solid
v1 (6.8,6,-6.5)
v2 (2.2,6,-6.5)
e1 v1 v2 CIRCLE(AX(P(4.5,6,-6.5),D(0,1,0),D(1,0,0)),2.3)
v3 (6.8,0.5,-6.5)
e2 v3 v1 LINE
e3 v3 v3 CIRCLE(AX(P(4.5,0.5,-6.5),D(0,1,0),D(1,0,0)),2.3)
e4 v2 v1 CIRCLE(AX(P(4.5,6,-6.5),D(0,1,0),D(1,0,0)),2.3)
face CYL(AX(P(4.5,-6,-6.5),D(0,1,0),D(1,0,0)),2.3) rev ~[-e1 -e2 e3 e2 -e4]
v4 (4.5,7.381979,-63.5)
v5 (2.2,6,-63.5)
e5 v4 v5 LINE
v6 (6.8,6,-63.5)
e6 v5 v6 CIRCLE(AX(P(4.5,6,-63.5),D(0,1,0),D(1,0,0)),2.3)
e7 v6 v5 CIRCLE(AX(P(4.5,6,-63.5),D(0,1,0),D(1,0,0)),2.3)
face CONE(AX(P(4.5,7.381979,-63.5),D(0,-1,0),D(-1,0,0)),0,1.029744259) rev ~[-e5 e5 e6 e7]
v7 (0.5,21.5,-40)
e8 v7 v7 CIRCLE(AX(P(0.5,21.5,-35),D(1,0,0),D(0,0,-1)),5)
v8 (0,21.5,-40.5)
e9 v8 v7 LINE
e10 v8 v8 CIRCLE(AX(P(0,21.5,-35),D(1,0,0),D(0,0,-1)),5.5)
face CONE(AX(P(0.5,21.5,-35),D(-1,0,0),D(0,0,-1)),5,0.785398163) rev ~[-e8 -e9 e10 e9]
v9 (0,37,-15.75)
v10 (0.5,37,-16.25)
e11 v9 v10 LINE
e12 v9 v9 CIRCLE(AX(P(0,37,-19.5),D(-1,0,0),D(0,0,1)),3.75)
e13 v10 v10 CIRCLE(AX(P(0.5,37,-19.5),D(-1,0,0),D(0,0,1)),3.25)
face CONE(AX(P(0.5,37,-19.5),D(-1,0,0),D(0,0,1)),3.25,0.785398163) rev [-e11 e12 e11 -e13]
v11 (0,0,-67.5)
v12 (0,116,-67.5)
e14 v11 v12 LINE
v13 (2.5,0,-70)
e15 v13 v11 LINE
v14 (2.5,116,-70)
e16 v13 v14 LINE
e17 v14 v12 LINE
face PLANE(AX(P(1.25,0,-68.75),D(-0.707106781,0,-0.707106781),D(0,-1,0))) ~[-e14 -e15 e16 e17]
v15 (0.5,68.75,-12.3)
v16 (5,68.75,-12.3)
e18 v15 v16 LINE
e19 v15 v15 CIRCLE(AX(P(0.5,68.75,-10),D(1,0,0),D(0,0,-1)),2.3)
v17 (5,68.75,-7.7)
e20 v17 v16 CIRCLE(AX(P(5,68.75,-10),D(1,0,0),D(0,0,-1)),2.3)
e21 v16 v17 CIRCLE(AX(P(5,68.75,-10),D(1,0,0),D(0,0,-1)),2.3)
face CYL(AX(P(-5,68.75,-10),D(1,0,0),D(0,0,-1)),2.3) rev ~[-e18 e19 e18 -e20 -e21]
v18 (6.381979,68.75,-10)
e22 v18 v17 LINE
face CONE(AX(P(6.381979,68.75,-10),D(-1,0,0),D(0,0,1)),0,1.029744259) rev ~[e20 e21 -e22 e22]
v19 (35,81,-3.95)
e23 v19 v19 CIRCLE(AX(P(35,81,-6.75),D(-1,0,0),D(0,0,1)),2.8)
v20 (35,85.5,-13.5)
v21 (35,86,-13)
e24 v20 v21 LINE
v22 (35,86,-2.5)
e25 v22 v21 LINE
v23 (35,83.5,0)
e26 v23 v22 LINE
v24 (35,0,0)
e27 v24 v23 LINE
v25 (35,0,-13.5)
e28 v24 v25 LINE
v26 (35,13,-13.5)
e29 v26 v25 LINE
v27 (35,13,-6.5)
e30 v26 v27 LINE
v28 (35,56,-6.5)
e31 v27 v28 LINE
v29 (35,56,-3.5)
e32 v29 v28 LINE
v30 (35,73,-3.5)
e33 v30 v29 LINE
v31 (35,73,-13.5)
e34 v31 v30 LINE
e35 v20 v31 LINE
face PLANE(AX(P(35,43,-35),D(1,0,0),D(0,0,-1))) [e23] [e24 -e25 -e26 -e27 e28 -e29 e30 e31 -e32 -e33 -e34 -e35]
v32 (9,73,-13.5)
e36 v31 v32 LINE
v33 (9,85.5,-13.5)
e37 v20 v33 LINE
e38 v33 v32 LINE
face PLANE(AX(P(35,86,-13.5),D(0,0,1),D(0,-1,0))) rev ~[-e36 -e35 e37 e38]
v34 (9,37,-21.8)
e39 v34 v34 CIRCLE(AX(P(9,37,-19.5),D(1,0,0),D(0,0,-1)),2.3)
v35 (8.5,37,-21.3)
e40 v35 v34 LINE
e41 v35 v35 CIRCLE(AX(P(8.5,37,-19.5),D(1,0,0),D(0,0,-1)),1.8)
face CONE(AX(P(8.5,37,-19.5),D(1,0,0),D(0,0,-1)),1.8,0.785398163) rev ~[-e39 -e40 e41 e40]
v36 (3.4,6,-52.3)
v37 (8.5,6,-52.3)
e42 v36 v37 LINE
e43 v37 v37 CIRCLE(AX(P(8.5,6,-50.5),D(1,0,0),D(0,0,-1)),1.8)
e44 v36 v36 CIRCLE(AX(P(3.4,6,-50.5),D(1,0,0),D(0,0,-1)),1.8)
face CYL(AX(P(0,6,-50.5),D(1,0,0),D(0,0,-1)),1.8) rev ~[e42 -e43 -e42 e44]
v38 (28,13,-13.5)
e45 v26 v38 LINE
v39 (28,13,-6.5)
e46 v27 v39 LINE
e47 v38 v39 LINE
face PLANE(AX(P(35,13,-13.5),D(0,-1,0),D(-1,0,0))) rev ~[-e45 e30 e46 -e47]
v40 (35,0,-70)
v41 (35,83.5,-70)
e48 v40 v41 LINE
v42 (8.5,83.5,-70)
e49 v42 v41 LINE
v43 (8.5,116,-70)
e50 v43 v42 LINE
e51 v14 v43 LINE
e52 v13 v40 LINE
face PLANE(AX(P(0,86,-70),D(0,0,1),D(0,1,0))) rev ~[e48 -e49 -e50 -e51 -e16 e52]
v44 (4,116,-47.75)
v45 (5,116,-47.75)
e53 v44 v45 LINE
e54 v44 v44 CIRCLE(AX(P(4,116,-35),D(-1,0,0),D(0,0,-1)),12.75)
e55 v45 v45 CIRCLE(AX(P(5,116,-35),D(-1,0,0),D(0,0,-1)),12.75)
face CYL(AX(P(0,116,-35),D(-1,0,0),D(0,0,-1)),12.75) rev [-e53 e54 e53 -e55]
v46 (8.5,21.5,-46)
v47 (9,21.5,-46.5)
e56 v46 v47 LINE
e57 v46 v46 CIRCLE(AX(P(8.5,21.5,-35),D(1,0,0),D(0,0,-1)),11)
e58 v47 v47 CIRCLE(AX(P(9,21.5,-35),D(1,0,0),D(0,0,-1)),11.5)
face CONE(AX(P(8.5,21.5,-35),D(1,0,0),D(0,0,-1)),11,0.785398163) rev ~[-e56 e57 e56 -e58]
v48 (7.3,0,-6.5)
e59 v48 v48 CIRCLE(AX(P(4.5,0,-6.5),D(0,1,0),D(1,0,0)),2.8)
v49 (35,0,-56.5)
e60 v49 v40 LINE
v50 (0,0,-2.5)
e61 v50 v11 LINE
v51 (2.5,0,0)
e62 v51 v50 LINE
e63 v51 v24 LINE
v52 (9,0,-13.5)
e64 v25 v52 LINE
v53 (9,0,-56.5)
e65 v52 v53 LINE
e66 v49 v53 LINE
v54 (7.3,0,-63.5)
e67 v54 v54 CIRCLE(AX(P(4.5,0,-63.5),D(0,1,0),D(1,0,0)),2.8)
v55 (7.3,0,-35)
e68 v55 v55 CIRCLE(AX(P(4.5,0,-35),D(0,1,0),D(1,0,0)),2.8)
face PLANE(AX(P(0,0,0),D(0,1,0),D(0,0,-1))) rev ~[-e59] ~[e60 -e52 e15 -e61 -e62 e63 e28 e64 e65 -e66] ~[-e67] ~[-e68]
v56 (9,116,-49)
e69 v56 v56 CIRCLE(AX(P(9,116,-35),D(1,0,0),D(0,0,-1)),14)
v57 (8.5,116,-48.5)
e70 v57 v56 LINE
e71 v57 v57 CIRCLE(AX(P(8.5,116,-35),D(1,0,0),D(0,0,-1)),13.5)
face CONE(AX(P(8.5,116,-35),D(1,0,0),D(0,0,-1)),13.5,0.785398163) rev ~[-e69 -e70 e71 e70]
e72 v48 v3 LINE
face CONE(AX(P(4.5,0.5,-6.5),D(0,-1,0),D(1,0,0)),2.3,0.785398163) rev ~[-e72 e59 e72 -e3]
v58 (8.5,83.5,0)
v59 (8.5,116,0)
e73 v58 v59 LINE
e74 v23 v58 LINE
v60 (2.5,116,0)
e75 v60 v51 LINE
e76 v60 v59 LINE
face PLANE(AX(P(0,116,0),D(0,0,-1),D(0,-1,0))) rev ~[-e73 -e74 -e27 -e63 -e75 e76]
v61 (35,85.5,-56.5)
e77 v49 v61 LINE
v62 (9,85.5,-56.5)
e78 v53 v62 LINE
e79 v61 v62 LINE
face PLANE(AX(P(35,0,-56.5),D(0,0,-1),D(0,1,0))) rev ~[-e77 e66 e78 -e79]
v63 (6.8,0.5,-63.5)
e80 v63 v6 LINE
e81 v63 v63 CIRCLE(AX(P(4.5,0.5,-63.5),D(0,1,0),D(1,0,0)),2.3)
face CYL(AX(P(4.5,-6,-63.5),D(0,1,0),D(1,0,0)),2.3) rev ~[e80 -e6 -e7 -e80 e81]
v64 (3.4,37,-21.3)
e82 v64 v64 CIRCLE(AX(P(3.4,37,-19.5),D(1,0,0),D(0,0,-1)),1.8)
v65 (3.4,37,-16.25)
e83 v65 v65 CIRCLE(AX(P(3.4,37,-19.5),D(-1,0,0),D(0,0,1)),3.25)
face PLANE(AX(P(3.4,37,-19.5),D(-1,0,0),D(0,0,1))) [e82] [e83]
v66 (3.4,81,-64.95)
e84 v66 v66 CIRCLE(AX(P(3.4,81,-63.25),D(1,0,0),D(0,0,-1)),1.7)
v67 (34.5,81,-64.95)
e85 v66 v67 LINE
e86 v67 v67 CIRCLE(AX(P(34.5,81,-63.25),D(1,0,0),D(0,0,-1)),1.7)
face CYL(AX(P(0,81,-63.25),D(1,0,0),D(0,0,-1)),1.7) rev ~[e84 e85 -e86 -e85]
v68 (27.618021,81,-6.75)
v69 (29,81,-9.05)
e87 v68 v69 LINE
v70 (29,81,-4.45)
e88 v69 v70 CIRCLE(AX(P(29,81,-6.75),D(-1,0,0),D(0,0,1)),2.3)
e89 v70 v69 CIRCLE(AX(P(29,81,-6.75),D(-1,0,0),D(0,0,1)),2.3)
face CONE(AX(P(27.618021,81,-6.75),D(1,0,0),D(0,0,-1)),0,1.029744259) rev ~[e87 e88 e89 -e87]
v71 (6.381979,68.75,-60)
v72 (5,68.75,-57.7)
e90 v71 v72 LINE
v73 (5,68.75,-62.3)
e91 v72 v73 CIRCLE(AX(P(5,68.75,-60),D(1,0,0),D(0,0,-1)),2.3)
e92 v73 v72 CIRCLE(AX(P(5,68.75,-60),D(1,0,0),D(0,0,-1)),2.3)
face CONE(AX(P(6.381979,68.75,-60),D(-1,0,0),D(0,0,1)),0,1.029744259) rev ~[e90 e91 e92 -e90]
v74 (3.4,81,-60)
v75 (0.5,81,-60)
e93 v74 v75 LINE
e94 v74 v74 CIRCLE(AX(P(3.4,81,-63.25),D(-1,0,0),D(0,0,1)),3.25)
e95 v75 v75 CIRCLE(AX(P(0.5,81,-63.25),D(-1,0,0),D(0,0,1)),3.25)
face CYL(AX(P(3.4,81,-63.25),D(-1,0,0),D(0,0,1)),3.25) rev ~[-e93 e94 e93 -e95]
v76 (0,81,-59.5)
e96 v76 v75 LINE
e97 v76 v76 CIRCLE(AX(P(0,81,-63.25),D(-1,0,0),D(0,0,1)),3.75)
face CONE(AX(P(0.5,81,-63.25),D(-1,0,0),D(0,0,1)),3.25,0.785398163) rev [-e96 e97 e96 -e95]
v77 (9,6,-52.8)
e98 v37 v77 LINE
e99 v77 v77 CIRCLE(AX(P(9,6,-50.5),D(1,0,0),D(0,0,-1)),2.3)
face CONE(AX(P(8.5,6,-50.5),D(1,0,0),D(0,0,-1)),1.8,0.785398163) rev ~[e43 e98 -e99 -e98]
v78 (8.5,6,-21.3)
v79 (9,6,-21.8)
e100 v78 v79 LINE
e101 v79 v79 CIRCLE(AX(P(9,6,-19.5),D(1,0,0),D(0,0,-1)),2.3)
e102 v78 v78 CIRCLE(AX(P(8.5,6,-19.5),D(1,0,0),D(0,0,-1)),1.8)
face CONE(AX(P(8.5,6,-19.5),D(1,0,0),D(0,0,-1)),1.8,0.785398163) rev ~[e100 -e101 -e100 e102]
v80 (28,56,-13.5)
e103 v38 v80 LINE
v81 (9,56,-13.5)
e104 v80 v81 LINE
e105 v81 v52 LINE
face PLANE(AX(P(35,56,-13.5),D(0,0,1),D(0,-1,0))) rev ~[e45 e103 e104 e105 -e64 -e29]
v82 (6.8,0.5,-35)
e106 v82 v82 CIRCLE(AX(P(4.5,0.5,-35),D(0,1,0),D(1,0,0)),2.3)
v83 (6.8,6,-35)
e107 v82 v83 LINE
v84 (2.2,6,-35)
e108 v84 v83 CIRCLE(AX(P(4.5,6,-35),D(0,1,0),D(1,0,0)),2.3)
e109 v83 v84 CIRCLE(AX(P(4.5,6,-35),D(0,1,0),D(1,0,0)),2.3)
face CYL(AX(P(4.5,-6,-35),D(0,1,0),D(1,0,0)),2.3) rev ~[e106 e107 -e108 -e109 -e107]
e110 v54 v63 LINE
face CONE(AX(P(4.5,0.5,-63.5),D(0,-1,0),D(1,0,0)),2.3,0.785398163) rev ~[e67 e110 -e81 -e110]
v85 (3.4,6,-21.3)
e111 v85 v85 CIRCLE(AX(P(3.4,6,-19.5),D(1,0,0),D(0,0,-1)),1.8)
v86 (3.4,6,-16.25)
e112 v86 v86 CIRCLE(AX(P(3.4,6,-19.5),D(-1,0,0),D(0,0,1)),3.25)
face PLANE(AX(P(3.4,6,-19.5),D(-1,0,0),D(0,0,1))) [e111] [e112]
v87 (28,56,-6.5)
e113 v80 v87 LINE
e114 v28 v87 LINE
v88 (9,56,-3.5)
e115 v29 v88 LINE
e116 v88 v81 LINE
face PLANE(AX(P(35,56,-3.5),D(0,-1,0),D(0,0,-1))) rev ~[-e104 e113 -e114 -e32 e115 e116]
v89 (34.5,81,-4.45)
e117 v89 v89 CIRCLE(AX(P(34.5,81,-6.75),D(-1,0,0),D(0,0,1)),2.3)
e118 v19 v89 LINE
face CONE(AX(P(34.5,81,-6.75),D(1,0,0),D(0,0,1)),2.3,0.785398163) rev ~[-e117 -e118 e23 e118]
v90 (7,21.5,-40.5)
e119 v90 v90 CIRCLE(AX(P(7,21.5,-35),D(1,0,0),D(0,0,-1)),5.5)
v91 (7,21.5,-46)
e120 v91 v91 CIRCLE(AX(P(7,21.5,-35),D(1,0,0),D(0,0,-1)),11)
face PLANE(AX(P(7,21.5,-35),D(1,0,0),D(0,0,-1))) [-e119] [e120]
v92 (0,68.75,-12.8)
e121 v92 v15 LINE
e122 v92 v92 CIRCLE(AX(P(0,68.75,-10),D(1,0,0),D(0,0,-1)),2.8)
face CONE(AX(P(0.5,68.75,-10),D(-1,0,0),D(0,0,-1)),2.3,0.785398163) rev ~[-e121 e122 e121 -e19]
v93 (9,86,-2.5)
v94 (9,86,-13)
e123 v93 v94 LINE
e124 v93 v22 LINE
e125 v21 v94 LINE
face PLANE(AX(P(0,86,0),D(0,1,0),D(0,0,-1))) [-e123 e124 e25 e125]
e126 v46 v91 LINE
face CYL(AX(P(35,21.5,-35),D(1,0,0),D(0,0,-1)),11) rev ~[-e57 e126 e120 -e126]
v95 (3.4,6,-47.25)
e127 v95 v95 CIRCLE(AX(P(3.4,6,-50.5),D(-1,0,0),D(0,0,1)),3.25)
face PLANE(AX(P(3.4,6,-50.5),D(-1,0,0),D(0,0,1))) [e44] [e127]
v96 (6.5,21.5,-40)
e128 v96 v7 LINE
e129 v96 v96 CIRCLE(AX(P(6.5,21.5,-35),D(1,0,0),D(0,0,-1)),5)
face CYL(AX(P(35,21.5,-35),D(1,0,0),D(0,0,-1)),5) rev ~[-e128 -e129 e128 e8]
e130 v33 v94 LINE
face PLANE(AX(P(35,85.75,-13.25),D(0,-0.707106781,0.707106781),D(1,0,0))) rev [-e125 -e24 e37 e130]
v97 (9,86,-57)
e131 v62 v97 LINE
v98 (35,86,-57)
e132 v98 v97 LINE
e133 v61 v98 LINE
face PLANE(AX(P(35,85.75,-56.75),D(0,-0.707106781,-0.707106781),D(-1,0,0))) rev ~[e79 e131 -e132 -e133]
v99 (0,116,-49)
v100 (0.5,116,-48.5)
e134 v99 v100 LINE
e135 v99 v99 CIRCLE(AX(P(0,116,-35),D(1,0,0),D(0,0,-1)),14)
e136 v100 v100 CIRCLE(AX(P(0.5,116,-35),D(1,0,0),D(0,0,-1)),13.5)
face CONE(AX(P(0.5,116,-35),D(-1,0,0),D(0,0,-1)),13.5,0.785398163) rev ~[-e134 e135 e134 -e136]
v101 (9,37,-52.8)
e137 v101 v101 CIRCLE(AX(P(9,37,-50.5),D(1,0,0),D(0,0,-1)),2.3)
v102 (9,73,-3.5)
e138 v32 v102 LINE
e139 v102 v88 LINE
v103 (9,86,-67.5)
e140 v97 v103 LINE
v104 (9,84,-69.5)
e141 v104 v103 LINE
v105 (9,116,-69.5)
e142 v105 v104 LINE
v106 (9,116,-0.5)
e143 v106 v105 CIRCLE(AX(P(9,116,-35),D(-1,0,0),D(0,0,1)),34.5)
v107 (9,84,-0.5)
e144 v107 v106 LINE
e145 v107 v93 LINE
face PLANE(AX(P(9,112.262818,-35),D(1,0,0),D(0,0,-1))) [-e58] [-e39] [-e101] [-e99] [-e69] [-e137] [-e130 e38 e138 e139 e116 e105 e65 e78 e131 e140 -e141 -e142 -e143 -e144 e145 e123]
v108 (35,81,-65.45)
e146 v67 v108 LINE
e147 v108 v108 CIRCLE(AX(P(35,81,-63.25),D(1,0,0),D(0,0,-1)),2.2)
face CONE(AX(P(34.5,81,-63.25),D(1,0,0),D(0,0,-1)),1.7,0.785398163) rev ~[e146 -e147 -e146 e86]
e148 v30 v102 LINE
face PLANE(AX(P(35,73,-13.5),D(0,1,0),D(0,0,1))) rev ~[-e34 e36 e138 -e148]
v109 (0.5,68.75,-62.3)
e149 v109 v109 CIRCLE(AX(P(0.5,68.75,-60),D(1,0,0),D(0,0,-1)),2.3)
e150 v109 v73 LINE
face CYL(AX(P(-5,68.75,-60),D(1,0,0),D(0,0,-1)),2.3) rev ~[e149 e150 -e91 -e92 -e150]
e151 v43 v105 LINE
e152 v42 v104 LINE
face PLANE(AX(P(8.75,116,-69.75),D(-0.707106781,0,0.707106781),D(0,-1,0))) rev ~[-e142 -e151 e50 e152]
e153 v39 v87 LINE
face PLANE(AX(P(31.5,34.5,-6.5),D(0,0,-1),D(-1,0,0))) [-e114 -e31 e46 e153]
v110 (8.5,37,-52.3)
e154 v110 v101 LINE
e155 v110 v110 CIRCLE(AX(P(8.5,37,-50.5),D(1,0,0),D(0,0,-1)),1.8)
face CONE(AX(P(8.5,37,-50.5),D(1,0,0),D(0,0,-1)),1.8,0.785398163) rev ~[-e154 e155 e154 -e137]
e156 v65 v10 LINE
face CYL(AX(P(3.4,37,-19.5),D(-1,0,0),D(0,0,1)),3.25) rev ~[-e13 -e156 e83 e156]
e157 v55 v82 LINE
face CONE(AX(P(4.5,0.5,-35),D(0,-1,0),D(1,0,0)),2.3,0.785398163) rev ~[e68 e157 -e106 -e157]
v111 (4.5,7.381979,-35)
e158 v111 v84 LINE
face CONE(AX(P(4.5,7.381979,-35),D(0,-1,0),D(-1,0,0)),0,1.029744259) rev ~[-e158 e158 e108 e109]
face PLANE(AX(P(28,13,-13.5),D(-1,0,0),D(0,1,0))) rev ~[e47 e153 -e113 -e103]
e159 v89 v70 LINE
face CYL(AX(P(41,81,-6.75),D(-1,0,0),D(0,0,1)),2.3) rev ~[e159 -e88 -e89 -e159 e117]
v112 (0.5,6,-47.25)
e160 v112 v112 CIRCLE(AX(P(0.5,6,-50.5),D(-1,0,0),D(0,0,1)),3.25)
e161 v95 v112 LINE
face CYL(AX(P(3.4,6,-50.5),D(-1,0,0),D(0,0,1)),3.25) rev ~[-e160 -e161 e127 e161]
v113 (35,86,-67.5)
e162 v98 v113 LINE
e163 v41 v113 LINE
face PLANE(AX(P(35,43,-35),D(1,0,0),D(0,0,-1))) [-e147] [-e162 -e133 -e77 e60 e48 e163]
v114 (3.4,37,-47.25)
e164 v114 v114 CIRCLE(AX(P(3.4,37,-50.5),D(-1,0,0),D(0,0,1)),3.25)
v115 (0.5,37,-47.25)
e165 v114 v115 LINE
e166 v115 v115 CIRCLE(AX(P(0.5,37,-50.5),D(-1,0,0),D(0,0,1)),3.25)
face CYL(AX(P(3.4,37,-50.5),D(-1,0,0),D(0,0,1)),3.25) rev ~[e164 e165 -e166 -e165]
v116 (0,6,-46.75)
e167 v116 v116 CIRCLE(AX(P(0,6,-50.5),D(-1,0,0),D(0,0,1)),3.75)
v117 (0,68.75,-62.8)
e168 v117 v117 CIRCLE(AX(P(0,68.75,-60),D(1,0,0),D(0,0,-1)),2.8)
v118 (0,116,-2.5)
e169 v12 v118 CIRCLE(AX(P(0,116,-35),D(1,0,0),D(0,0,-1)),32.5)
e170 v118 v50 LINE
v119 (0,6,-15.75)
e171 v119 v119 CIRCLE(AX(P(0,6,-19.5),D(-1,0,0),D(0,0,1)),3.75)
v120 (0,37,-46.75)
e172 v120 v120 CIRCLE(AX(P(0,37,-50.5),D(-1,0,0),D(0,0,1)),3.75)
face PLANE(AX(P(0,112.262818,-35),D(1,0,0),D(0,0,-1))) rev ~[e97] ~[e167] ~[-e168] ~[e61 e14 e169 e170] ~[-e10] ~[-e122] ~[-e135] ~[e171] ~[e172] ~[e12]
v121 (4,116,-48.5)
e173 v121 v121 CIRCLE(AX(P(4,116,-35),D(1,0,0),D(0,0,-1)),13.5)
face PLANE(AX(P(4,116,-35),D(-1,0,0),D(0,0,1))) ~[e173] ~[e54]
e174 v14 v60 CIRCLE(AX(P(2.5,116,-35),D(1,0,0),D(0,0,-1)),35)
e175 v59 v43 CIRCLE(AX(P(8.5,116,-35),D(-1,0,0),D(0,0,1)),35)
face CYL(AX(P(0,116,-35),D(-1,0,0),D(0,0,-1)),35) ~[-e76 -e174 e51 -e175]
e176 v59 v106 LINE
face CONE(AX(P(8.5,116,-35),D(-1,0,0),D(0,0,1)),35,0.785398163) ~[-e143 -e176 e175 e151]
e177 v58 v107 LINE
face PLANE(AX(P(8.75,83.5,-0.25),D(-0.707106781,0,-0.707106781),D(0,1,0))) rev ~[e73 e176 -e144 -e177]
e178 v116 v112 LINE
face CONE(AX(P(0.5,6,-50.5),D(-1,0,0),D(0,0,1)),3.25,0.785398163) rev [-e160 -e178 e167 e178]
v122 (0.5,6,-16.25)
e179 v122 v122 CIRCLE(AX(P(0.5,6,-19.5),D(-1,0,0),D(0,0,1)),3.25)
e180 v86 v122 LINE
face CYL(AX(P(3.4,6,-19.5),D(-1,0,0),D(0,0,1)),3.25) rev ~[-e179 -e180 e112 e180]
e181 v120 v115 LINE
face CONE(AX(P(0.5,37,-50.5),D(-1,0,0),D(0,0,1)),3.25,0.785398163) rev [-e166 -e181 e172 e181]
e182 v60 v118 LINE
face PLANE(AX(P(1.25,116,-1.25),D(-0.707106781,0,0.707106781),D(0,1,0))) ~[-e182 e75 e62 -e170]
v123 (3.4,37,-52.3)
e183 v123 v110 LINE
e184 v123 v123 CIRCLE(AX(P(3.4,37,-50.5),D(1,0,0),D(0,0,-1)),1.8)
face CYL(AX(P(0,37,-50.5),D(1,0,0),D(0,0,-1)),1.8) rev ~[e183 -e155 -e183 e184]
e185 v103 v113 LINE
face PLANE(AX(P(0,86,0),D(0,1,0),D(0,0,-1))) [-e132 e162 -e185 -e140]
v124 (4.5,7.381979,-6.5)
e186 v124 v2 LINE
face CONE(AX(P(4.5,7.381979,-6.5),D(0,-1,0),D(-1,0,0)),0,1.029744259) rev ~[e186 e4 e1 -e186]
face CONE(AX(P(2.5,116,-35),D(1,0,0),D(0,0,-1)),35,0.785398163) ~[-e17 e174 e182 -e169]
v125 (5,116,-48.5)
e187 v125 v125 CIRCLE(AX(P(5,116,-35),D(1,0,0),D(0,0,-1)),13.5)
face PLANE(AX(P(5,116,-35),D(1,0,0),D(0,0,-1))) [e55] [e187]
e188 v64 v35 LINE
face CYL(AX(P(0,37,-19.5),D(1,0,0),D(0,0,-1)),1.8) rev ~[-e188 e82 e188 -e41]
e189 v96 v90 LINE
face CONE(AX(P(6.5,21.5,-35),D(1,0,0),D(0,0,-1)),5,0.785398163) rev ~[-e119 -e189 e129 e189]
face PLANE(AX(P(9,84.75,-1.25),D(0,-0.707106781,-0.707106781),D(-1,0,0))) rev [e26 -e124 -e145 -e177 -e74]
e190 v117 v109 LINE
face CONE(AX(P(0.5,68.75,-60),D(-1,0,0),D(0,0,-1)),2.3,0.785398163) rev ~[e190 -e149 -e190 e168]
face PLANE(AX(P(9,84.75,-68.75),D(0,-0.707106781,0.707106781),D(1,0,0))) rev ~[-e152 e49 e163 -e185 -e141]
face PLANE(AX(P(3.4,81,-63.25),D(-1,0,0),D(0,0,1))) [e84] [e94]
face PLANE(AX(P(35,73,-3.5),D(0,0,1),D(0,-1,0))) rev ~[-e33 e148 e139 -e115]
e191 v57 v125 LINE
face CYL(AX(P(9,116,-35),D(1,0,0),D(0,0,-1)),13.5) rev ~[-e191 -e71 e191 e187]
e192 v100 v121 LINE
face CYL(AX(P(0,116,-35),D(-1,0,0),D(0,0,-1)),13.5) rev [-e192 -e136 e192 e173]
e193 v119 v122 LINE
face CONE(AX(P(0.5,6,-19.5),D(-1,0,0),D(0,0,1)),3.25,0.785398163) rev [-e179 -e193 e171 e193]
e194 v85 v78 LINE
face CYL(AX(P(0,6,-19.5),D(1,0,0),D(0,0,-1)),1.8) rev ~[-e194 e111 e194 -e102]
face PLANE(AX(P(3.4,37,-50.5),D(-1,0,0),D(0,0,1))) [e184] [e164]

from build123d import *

# Parameters (mm, degrees)
SKETCH2_W                                           = 70
SKETCH2_H                                           = 86
BOSS_EXTRUDE1_DEPTH                                 = 35
CUT_EXTRUDE1_DEPTH                                  = 26
SKETCH2_3_R                                         = 12.75
BOSS_EXTRUDE2_DEPTH                                 = 9
SKETCH3_3_R                                         = 11
SKETCH3_3_R_2                                       = 5
CUT_EXTRUDE2_DEPTH                                  = 28
SKETCH3_4_R                                         = 5
CUT_EXTRUDE3_DEPTH                                  = 171.076453397
SKETCH15_R                                          = 13.5
CUT_EXTRUDE4_DEPTH                                  = 4
CBORE_FOR_M3_HEX_SOCKET_HEAD_CAP_SCREW1_D           = 3.6
CBORE_FOR_M3_HEX_SOCKET_HEAD_CAP_SCREW1_CBORE_D     = 6.5
CBORE_FOR_M3_HEX_SOCKET_HEAD_CAP_SCREW1_CBORE_DEPTH = 3.4
F_4_6_4_6_DIAMETER_HOLE1_D                          = 4.6
F_4_6_4_6_DIAMETER_HOLE1_DEPTH                      = 6
F_4_6_4_6_DIAMETER_HOLE1_TIP                        = 1.381979424
CBORE_FOR_M3_HEX_SOCKET_HEAD_CAP_SCREW2_D           = 3.4
CBORE_FOR_M3_HEX_SOCKET_HEAD_CAP_SCREW2_CBORE_D     = 6.5
CBORE_FOR_M3_HEX_SOCKET_HEAD_CAP_SCREW2_CBORE_DEPTH = 3.4
F_4_6_4_6_DIAMETER_HOLE2_D                          = 4.6
F_4_6_4_6_DIAMETER_HOLE2_DEPTH                      = 6
F_4_6_4_6_DIAMETER_HOLE2_TIP                        = 1.381979424
F_4_6_4_6_DIAMETER_HOLE3_D                          = 4.6
F_4_6_4_6_DIAMETER_HOLE3_DEPTH                      = 5
F_4_6_4_6_DIAMETER_HOLE3_TIP                        = 1.381979424
SKETCH19_W                                          = 7
SKETCH19_H                                          = 43
CUT_EXTRUDE5_DEPTH                                  = 7
F_2_5MM_CHAMFER1_SIZE                               = 2.5
F_0_5MM_CHAMFER2_SIZE                               = 0.5


with BuildPart() as part:
    # Sketch2 → Boss-Extrude1 (new body)
    with BuildSketch(Plane(origin=(0, 0, 0), x_dir=(0, 0, -1), z_dir=(1, 0, 0))):
        with Locations((35, 43)):
            Rectangle(SKETCH2_W, SKETCH2_H)
    extrude(amount=BOSS_EXTRUDE1_DEPTH)

    # Sketch3 → Cut-Extrude1 (cut)
    with BuildSketch(Plane(origin=(35, 0, 0), x_dir=(0, 0, -1), z_dir=(1, 0, 0))):
        Polygon((13.5, 0), (56.5, 0), (56.5, 86), (13.5, 86), (13.5, 73), (3.5, 73), (3.5, 56), (13.5, 56), align=None)
    extrude(amount=-CUT_EXTRUDE1_DEPTH, mode=Mode.SUBTRACT)

    # Sketch2<3> → Boss-Extrude2 (add)
    with BuildSketch(Plane(origin=(0, 0, 0), x_dir=(0, 0, -1), z_dir=(1, 0, 0))):
        with BuildLine():
            Line((0, 116), (0, 86))
            Line((0, 86), (70, 86))
            Line((70, 86), (70, 116))
            ThreePointArc((70, 116), (35, 151), (0, 116))
        make_face()
        with Locations((35, 116)):
            Circle(SKETCH2_3_R, mode=Mode.SUBTRACT)
    extrude(amount=BOSS_EXTRUDE2_DEPTH)

    # Sketch3<3> → Cut-Extrude2 (cut)
    # profile 1 of 2: a face of its own
    with BuildSketch(Plane(origin=(35, 0, 0), x_dir=(0, 0, -1), z_dir=(1, 0, 0))):
        with Locations((35, 21.5)):
            Circle(SKETCH3_3_R)
        with Locations((35, 21.5)):
            Circle(SKETCH3_3_R_2, mode=Mode.SUBTRACT)
    # profile 2 of 2: a face of its own
    with BuildSketch(Plane(origin=(35, 0, 0), x_dir=(0, 0, -1), z_dir=(1, 0, 0))):
        with Locations((35, 21.5)):
            Circle(SKETCH3_3_R_2)
    extrude(amount=-CUT_EXTRUDE2_DEPTH, mode=Mode.SUBTRACT)

    # Sketch3<4> → Cut-Extrude3 (cut, through all)
    with BuildSketch(Plane(origin=(35, 0, 0), x_dir=(0, 0, -1), z_dir=(1, 0, 0))):
        with Locations((35, 21.5)):
            Circle(SKETCH3_4_R)
    extrude(amount=-CUT_EXTRUDE3_DEPTH, mode=Mode.SUBTRACT)

    # Sketch15 → Cut-Extrude4 (cut)
    with BuildSketch(Plane(origin=(9, 0, 0), x_dir=(0, 0, -1), z_dir=(1, 0, 0))):
        with Locations((35, 116)):
            Circle(SKETCH15_R)
    cut_extrude4 = extrude(amount=-CUT_EXTRUDE4_DEPTH, mode=Mode.SUBTRACT)

    # Mirror1: Cut-Extrude4 across plane
    add(cut_extrude4.mirror(Plane(origin=(4.5, 0, 0), x_dir=(0, 0, 1), z_dir=(1, 0, 0))), mode=Mode.SUBTRACT)

    # CBORE for M3 Hex Socket Head Cap Screw1 (through all)
    with Locations(Plane.ZY):
        with Locations((-19.5, 6), (-35, 21.5), (-19.5, 37), (-50.5, 6), (-50.5, 37)):
            CounterBoreHole(CBORE_FOR_M3_HEX_SOCKET_HEAD_CAP_SCREW1_D / 2, CBORE_FOR_M3_HEX_SOCKET_HEAD_CAP_SCREW1_CBORE_D / 2, CBORE_FOR_M3_HEX_SOCKET_HEAD_CAP_SCREW1_CBORE_DEPTH)

    # Ø4.6 (4.6) Diameter Hole1
    with Locations(Plane(origin=(0, 0, 0), x_dir=(-1, 0, 0), z_dir=(0, -1, 0))):
        with Locations((-4.5, 35), (-35, 35), (-4.5, 63.5), (-4.5, 6.5)):
            Hole(F_4_6_4_6_DIAMETER_HOLE1_D / 2, depth=F_4_6_4_6_DIAMETER_HOLE1_DEPTH)
            with Locations((0, 0, -(F_4_6_4_6_DIAMETER_HOLE1_DEPTH + F_4_6_4_6_DIAMETER_HOLE1_TIP / 2))):  # 118° drill point
                Cone(0, F_4_6_4_6_DIAMETER_HOLE1_D / 2, F_4_6_4_6_DIAMETER_HOLE1_TIP, mode=Mode.SUBTRACT)

    # CBORE for M3 Hex Socket Head Cap Screw2 (through all)
    with Locations(Plane.ZY):
        with Locations((-63.25, 81)):
            CounterBoreHole(CBORE_FOR_M3_HEX_SOCKET_HEAD_CAP_SCREW2_D / 2, CBORE_FOR_M3_HEX_SOCKET_HEAD_CAP_SCREW2_CBORE_D / 2, CBORE_FOR_M3_HEX_SOCKET_HEAD_CAP_SCREW2_CBORE_DEPTH)

    # Ø4.6 (4.6) Diameter Hole2
    with Locations(Plane(origin=(35, 0, 0), x_dir=(0, 0, -1), z_dir=(1, 0, 0))):
        with Locations((6.75, 81)):
            Hole(F_4_6_4_6_DIAMETER_HOLE2_D / 2, depth=F_4_6_4_6_DIAMETER_HOLE2_DEPTH)
            with Locations((0, 0, -(F_4_6_4_6_DIAMETER_HOLE2_DEPTH + F_4_6_4_6_DIAMETER_HOLE2_TIP / 2))):  # 118° drill point
                Cone(0, F_4_6_4_6_DIAMETER_HOLE2_D / 2, F_4_6_4_6_DIAMETER_HOLE2_TIP, mode=Mode.SUBTRACT)

    # Ø4.6 (4.6) Diameter Hole3
    with Locations(Plane.ZY):
        with Locations((-60, 68.75), (-10, 68.75)):
            Hole(F_4_6_4_6_DIAMETER_HOLE3_D / 2, depth=F_4_6_4_6_DIAMETER_HOLE3_DEPTH)
            with Locations((0, 0, -(F_4_6_4_6_DIAMETER_HOLE3_DEPTH + F_4_6_4_6_DIAMETER_HOLE3_TIP / 2))):  # 118° drill point
                Cone(0, F_4_6_4_6_DIAMETER_HOLE3_D / 2, F_4_6_4_6_DIAMETER_HOLE3_TIP, mode=Mode.SUBTRACT)

    # Sketch19 → Cut-Extrude5 (cut)
    with BuildSketch(Plane(origin=(0, 0, -13.5), x_dir=(-1, 0, 0), z_dir=(0, 0, -1))):
        with Locations((-31.5, 34.5)):
            Rectangle(SKETCH19_W, SKETCH19_H)
    extrude(amount=-CUT_EXTRUDE5_DEPTH, mode=Mode.SUBTRACT)

    # 2,5mm Chamfer1
    f_2_5mm_chamfer1_edges = [part.edges().sort_by_distance(p)[0] for p in [
        (0, 151, -35),
        (0, 58, 0),
        (0, 58, -70),
        (22, 86, 0),
        (22, 86, -70),
    ]]
    chamfer(f_2_5mm_chamfer1_edges, length=F_2_5MM_CHAMFER1_SIZE)

    # 0,5mm Chamfer2
    f_0_5mm_chamfer2_edges = [part.edges().sort_by_distance(p)[0] for p in [
        (9, 6, -48.7),
        (0, 6, -53.75),
        (9, 37, -17.7),
        (0, 37, -22.75),
        (2.2, 0, -35),
        (2.2, 0, -6.5),
        (2.2, 0, -63.5),
        (0, 81, -66.5),
        (35, 81, -61.55),
        (35, 81, -9.05),
        (0, 68.75, -57.7),
        (0, 68.75, -7.7),
        (22, 86, -13.5),
        (22, 86, -56.5),
        (9, 99.75, 0),
        (9, 99.75, -70),
        (9, 151, -35),
        (9, 21.5, -24),
        (7, 21.5, -30),
        (0, 21.5, -30),
        (9, 116, -21.5),
        (0, 116, -21.5),
        (9, 6, -17.7),
        (0, 6, -22.75),
        (9, 37, -48.7),
        (0, 37, -53.75),
    ]]
    chamfer(f_0_5mm_chamfer2_edges, length=F_0_5MM_CHAMFER2_SIZE)


solid = part.part
